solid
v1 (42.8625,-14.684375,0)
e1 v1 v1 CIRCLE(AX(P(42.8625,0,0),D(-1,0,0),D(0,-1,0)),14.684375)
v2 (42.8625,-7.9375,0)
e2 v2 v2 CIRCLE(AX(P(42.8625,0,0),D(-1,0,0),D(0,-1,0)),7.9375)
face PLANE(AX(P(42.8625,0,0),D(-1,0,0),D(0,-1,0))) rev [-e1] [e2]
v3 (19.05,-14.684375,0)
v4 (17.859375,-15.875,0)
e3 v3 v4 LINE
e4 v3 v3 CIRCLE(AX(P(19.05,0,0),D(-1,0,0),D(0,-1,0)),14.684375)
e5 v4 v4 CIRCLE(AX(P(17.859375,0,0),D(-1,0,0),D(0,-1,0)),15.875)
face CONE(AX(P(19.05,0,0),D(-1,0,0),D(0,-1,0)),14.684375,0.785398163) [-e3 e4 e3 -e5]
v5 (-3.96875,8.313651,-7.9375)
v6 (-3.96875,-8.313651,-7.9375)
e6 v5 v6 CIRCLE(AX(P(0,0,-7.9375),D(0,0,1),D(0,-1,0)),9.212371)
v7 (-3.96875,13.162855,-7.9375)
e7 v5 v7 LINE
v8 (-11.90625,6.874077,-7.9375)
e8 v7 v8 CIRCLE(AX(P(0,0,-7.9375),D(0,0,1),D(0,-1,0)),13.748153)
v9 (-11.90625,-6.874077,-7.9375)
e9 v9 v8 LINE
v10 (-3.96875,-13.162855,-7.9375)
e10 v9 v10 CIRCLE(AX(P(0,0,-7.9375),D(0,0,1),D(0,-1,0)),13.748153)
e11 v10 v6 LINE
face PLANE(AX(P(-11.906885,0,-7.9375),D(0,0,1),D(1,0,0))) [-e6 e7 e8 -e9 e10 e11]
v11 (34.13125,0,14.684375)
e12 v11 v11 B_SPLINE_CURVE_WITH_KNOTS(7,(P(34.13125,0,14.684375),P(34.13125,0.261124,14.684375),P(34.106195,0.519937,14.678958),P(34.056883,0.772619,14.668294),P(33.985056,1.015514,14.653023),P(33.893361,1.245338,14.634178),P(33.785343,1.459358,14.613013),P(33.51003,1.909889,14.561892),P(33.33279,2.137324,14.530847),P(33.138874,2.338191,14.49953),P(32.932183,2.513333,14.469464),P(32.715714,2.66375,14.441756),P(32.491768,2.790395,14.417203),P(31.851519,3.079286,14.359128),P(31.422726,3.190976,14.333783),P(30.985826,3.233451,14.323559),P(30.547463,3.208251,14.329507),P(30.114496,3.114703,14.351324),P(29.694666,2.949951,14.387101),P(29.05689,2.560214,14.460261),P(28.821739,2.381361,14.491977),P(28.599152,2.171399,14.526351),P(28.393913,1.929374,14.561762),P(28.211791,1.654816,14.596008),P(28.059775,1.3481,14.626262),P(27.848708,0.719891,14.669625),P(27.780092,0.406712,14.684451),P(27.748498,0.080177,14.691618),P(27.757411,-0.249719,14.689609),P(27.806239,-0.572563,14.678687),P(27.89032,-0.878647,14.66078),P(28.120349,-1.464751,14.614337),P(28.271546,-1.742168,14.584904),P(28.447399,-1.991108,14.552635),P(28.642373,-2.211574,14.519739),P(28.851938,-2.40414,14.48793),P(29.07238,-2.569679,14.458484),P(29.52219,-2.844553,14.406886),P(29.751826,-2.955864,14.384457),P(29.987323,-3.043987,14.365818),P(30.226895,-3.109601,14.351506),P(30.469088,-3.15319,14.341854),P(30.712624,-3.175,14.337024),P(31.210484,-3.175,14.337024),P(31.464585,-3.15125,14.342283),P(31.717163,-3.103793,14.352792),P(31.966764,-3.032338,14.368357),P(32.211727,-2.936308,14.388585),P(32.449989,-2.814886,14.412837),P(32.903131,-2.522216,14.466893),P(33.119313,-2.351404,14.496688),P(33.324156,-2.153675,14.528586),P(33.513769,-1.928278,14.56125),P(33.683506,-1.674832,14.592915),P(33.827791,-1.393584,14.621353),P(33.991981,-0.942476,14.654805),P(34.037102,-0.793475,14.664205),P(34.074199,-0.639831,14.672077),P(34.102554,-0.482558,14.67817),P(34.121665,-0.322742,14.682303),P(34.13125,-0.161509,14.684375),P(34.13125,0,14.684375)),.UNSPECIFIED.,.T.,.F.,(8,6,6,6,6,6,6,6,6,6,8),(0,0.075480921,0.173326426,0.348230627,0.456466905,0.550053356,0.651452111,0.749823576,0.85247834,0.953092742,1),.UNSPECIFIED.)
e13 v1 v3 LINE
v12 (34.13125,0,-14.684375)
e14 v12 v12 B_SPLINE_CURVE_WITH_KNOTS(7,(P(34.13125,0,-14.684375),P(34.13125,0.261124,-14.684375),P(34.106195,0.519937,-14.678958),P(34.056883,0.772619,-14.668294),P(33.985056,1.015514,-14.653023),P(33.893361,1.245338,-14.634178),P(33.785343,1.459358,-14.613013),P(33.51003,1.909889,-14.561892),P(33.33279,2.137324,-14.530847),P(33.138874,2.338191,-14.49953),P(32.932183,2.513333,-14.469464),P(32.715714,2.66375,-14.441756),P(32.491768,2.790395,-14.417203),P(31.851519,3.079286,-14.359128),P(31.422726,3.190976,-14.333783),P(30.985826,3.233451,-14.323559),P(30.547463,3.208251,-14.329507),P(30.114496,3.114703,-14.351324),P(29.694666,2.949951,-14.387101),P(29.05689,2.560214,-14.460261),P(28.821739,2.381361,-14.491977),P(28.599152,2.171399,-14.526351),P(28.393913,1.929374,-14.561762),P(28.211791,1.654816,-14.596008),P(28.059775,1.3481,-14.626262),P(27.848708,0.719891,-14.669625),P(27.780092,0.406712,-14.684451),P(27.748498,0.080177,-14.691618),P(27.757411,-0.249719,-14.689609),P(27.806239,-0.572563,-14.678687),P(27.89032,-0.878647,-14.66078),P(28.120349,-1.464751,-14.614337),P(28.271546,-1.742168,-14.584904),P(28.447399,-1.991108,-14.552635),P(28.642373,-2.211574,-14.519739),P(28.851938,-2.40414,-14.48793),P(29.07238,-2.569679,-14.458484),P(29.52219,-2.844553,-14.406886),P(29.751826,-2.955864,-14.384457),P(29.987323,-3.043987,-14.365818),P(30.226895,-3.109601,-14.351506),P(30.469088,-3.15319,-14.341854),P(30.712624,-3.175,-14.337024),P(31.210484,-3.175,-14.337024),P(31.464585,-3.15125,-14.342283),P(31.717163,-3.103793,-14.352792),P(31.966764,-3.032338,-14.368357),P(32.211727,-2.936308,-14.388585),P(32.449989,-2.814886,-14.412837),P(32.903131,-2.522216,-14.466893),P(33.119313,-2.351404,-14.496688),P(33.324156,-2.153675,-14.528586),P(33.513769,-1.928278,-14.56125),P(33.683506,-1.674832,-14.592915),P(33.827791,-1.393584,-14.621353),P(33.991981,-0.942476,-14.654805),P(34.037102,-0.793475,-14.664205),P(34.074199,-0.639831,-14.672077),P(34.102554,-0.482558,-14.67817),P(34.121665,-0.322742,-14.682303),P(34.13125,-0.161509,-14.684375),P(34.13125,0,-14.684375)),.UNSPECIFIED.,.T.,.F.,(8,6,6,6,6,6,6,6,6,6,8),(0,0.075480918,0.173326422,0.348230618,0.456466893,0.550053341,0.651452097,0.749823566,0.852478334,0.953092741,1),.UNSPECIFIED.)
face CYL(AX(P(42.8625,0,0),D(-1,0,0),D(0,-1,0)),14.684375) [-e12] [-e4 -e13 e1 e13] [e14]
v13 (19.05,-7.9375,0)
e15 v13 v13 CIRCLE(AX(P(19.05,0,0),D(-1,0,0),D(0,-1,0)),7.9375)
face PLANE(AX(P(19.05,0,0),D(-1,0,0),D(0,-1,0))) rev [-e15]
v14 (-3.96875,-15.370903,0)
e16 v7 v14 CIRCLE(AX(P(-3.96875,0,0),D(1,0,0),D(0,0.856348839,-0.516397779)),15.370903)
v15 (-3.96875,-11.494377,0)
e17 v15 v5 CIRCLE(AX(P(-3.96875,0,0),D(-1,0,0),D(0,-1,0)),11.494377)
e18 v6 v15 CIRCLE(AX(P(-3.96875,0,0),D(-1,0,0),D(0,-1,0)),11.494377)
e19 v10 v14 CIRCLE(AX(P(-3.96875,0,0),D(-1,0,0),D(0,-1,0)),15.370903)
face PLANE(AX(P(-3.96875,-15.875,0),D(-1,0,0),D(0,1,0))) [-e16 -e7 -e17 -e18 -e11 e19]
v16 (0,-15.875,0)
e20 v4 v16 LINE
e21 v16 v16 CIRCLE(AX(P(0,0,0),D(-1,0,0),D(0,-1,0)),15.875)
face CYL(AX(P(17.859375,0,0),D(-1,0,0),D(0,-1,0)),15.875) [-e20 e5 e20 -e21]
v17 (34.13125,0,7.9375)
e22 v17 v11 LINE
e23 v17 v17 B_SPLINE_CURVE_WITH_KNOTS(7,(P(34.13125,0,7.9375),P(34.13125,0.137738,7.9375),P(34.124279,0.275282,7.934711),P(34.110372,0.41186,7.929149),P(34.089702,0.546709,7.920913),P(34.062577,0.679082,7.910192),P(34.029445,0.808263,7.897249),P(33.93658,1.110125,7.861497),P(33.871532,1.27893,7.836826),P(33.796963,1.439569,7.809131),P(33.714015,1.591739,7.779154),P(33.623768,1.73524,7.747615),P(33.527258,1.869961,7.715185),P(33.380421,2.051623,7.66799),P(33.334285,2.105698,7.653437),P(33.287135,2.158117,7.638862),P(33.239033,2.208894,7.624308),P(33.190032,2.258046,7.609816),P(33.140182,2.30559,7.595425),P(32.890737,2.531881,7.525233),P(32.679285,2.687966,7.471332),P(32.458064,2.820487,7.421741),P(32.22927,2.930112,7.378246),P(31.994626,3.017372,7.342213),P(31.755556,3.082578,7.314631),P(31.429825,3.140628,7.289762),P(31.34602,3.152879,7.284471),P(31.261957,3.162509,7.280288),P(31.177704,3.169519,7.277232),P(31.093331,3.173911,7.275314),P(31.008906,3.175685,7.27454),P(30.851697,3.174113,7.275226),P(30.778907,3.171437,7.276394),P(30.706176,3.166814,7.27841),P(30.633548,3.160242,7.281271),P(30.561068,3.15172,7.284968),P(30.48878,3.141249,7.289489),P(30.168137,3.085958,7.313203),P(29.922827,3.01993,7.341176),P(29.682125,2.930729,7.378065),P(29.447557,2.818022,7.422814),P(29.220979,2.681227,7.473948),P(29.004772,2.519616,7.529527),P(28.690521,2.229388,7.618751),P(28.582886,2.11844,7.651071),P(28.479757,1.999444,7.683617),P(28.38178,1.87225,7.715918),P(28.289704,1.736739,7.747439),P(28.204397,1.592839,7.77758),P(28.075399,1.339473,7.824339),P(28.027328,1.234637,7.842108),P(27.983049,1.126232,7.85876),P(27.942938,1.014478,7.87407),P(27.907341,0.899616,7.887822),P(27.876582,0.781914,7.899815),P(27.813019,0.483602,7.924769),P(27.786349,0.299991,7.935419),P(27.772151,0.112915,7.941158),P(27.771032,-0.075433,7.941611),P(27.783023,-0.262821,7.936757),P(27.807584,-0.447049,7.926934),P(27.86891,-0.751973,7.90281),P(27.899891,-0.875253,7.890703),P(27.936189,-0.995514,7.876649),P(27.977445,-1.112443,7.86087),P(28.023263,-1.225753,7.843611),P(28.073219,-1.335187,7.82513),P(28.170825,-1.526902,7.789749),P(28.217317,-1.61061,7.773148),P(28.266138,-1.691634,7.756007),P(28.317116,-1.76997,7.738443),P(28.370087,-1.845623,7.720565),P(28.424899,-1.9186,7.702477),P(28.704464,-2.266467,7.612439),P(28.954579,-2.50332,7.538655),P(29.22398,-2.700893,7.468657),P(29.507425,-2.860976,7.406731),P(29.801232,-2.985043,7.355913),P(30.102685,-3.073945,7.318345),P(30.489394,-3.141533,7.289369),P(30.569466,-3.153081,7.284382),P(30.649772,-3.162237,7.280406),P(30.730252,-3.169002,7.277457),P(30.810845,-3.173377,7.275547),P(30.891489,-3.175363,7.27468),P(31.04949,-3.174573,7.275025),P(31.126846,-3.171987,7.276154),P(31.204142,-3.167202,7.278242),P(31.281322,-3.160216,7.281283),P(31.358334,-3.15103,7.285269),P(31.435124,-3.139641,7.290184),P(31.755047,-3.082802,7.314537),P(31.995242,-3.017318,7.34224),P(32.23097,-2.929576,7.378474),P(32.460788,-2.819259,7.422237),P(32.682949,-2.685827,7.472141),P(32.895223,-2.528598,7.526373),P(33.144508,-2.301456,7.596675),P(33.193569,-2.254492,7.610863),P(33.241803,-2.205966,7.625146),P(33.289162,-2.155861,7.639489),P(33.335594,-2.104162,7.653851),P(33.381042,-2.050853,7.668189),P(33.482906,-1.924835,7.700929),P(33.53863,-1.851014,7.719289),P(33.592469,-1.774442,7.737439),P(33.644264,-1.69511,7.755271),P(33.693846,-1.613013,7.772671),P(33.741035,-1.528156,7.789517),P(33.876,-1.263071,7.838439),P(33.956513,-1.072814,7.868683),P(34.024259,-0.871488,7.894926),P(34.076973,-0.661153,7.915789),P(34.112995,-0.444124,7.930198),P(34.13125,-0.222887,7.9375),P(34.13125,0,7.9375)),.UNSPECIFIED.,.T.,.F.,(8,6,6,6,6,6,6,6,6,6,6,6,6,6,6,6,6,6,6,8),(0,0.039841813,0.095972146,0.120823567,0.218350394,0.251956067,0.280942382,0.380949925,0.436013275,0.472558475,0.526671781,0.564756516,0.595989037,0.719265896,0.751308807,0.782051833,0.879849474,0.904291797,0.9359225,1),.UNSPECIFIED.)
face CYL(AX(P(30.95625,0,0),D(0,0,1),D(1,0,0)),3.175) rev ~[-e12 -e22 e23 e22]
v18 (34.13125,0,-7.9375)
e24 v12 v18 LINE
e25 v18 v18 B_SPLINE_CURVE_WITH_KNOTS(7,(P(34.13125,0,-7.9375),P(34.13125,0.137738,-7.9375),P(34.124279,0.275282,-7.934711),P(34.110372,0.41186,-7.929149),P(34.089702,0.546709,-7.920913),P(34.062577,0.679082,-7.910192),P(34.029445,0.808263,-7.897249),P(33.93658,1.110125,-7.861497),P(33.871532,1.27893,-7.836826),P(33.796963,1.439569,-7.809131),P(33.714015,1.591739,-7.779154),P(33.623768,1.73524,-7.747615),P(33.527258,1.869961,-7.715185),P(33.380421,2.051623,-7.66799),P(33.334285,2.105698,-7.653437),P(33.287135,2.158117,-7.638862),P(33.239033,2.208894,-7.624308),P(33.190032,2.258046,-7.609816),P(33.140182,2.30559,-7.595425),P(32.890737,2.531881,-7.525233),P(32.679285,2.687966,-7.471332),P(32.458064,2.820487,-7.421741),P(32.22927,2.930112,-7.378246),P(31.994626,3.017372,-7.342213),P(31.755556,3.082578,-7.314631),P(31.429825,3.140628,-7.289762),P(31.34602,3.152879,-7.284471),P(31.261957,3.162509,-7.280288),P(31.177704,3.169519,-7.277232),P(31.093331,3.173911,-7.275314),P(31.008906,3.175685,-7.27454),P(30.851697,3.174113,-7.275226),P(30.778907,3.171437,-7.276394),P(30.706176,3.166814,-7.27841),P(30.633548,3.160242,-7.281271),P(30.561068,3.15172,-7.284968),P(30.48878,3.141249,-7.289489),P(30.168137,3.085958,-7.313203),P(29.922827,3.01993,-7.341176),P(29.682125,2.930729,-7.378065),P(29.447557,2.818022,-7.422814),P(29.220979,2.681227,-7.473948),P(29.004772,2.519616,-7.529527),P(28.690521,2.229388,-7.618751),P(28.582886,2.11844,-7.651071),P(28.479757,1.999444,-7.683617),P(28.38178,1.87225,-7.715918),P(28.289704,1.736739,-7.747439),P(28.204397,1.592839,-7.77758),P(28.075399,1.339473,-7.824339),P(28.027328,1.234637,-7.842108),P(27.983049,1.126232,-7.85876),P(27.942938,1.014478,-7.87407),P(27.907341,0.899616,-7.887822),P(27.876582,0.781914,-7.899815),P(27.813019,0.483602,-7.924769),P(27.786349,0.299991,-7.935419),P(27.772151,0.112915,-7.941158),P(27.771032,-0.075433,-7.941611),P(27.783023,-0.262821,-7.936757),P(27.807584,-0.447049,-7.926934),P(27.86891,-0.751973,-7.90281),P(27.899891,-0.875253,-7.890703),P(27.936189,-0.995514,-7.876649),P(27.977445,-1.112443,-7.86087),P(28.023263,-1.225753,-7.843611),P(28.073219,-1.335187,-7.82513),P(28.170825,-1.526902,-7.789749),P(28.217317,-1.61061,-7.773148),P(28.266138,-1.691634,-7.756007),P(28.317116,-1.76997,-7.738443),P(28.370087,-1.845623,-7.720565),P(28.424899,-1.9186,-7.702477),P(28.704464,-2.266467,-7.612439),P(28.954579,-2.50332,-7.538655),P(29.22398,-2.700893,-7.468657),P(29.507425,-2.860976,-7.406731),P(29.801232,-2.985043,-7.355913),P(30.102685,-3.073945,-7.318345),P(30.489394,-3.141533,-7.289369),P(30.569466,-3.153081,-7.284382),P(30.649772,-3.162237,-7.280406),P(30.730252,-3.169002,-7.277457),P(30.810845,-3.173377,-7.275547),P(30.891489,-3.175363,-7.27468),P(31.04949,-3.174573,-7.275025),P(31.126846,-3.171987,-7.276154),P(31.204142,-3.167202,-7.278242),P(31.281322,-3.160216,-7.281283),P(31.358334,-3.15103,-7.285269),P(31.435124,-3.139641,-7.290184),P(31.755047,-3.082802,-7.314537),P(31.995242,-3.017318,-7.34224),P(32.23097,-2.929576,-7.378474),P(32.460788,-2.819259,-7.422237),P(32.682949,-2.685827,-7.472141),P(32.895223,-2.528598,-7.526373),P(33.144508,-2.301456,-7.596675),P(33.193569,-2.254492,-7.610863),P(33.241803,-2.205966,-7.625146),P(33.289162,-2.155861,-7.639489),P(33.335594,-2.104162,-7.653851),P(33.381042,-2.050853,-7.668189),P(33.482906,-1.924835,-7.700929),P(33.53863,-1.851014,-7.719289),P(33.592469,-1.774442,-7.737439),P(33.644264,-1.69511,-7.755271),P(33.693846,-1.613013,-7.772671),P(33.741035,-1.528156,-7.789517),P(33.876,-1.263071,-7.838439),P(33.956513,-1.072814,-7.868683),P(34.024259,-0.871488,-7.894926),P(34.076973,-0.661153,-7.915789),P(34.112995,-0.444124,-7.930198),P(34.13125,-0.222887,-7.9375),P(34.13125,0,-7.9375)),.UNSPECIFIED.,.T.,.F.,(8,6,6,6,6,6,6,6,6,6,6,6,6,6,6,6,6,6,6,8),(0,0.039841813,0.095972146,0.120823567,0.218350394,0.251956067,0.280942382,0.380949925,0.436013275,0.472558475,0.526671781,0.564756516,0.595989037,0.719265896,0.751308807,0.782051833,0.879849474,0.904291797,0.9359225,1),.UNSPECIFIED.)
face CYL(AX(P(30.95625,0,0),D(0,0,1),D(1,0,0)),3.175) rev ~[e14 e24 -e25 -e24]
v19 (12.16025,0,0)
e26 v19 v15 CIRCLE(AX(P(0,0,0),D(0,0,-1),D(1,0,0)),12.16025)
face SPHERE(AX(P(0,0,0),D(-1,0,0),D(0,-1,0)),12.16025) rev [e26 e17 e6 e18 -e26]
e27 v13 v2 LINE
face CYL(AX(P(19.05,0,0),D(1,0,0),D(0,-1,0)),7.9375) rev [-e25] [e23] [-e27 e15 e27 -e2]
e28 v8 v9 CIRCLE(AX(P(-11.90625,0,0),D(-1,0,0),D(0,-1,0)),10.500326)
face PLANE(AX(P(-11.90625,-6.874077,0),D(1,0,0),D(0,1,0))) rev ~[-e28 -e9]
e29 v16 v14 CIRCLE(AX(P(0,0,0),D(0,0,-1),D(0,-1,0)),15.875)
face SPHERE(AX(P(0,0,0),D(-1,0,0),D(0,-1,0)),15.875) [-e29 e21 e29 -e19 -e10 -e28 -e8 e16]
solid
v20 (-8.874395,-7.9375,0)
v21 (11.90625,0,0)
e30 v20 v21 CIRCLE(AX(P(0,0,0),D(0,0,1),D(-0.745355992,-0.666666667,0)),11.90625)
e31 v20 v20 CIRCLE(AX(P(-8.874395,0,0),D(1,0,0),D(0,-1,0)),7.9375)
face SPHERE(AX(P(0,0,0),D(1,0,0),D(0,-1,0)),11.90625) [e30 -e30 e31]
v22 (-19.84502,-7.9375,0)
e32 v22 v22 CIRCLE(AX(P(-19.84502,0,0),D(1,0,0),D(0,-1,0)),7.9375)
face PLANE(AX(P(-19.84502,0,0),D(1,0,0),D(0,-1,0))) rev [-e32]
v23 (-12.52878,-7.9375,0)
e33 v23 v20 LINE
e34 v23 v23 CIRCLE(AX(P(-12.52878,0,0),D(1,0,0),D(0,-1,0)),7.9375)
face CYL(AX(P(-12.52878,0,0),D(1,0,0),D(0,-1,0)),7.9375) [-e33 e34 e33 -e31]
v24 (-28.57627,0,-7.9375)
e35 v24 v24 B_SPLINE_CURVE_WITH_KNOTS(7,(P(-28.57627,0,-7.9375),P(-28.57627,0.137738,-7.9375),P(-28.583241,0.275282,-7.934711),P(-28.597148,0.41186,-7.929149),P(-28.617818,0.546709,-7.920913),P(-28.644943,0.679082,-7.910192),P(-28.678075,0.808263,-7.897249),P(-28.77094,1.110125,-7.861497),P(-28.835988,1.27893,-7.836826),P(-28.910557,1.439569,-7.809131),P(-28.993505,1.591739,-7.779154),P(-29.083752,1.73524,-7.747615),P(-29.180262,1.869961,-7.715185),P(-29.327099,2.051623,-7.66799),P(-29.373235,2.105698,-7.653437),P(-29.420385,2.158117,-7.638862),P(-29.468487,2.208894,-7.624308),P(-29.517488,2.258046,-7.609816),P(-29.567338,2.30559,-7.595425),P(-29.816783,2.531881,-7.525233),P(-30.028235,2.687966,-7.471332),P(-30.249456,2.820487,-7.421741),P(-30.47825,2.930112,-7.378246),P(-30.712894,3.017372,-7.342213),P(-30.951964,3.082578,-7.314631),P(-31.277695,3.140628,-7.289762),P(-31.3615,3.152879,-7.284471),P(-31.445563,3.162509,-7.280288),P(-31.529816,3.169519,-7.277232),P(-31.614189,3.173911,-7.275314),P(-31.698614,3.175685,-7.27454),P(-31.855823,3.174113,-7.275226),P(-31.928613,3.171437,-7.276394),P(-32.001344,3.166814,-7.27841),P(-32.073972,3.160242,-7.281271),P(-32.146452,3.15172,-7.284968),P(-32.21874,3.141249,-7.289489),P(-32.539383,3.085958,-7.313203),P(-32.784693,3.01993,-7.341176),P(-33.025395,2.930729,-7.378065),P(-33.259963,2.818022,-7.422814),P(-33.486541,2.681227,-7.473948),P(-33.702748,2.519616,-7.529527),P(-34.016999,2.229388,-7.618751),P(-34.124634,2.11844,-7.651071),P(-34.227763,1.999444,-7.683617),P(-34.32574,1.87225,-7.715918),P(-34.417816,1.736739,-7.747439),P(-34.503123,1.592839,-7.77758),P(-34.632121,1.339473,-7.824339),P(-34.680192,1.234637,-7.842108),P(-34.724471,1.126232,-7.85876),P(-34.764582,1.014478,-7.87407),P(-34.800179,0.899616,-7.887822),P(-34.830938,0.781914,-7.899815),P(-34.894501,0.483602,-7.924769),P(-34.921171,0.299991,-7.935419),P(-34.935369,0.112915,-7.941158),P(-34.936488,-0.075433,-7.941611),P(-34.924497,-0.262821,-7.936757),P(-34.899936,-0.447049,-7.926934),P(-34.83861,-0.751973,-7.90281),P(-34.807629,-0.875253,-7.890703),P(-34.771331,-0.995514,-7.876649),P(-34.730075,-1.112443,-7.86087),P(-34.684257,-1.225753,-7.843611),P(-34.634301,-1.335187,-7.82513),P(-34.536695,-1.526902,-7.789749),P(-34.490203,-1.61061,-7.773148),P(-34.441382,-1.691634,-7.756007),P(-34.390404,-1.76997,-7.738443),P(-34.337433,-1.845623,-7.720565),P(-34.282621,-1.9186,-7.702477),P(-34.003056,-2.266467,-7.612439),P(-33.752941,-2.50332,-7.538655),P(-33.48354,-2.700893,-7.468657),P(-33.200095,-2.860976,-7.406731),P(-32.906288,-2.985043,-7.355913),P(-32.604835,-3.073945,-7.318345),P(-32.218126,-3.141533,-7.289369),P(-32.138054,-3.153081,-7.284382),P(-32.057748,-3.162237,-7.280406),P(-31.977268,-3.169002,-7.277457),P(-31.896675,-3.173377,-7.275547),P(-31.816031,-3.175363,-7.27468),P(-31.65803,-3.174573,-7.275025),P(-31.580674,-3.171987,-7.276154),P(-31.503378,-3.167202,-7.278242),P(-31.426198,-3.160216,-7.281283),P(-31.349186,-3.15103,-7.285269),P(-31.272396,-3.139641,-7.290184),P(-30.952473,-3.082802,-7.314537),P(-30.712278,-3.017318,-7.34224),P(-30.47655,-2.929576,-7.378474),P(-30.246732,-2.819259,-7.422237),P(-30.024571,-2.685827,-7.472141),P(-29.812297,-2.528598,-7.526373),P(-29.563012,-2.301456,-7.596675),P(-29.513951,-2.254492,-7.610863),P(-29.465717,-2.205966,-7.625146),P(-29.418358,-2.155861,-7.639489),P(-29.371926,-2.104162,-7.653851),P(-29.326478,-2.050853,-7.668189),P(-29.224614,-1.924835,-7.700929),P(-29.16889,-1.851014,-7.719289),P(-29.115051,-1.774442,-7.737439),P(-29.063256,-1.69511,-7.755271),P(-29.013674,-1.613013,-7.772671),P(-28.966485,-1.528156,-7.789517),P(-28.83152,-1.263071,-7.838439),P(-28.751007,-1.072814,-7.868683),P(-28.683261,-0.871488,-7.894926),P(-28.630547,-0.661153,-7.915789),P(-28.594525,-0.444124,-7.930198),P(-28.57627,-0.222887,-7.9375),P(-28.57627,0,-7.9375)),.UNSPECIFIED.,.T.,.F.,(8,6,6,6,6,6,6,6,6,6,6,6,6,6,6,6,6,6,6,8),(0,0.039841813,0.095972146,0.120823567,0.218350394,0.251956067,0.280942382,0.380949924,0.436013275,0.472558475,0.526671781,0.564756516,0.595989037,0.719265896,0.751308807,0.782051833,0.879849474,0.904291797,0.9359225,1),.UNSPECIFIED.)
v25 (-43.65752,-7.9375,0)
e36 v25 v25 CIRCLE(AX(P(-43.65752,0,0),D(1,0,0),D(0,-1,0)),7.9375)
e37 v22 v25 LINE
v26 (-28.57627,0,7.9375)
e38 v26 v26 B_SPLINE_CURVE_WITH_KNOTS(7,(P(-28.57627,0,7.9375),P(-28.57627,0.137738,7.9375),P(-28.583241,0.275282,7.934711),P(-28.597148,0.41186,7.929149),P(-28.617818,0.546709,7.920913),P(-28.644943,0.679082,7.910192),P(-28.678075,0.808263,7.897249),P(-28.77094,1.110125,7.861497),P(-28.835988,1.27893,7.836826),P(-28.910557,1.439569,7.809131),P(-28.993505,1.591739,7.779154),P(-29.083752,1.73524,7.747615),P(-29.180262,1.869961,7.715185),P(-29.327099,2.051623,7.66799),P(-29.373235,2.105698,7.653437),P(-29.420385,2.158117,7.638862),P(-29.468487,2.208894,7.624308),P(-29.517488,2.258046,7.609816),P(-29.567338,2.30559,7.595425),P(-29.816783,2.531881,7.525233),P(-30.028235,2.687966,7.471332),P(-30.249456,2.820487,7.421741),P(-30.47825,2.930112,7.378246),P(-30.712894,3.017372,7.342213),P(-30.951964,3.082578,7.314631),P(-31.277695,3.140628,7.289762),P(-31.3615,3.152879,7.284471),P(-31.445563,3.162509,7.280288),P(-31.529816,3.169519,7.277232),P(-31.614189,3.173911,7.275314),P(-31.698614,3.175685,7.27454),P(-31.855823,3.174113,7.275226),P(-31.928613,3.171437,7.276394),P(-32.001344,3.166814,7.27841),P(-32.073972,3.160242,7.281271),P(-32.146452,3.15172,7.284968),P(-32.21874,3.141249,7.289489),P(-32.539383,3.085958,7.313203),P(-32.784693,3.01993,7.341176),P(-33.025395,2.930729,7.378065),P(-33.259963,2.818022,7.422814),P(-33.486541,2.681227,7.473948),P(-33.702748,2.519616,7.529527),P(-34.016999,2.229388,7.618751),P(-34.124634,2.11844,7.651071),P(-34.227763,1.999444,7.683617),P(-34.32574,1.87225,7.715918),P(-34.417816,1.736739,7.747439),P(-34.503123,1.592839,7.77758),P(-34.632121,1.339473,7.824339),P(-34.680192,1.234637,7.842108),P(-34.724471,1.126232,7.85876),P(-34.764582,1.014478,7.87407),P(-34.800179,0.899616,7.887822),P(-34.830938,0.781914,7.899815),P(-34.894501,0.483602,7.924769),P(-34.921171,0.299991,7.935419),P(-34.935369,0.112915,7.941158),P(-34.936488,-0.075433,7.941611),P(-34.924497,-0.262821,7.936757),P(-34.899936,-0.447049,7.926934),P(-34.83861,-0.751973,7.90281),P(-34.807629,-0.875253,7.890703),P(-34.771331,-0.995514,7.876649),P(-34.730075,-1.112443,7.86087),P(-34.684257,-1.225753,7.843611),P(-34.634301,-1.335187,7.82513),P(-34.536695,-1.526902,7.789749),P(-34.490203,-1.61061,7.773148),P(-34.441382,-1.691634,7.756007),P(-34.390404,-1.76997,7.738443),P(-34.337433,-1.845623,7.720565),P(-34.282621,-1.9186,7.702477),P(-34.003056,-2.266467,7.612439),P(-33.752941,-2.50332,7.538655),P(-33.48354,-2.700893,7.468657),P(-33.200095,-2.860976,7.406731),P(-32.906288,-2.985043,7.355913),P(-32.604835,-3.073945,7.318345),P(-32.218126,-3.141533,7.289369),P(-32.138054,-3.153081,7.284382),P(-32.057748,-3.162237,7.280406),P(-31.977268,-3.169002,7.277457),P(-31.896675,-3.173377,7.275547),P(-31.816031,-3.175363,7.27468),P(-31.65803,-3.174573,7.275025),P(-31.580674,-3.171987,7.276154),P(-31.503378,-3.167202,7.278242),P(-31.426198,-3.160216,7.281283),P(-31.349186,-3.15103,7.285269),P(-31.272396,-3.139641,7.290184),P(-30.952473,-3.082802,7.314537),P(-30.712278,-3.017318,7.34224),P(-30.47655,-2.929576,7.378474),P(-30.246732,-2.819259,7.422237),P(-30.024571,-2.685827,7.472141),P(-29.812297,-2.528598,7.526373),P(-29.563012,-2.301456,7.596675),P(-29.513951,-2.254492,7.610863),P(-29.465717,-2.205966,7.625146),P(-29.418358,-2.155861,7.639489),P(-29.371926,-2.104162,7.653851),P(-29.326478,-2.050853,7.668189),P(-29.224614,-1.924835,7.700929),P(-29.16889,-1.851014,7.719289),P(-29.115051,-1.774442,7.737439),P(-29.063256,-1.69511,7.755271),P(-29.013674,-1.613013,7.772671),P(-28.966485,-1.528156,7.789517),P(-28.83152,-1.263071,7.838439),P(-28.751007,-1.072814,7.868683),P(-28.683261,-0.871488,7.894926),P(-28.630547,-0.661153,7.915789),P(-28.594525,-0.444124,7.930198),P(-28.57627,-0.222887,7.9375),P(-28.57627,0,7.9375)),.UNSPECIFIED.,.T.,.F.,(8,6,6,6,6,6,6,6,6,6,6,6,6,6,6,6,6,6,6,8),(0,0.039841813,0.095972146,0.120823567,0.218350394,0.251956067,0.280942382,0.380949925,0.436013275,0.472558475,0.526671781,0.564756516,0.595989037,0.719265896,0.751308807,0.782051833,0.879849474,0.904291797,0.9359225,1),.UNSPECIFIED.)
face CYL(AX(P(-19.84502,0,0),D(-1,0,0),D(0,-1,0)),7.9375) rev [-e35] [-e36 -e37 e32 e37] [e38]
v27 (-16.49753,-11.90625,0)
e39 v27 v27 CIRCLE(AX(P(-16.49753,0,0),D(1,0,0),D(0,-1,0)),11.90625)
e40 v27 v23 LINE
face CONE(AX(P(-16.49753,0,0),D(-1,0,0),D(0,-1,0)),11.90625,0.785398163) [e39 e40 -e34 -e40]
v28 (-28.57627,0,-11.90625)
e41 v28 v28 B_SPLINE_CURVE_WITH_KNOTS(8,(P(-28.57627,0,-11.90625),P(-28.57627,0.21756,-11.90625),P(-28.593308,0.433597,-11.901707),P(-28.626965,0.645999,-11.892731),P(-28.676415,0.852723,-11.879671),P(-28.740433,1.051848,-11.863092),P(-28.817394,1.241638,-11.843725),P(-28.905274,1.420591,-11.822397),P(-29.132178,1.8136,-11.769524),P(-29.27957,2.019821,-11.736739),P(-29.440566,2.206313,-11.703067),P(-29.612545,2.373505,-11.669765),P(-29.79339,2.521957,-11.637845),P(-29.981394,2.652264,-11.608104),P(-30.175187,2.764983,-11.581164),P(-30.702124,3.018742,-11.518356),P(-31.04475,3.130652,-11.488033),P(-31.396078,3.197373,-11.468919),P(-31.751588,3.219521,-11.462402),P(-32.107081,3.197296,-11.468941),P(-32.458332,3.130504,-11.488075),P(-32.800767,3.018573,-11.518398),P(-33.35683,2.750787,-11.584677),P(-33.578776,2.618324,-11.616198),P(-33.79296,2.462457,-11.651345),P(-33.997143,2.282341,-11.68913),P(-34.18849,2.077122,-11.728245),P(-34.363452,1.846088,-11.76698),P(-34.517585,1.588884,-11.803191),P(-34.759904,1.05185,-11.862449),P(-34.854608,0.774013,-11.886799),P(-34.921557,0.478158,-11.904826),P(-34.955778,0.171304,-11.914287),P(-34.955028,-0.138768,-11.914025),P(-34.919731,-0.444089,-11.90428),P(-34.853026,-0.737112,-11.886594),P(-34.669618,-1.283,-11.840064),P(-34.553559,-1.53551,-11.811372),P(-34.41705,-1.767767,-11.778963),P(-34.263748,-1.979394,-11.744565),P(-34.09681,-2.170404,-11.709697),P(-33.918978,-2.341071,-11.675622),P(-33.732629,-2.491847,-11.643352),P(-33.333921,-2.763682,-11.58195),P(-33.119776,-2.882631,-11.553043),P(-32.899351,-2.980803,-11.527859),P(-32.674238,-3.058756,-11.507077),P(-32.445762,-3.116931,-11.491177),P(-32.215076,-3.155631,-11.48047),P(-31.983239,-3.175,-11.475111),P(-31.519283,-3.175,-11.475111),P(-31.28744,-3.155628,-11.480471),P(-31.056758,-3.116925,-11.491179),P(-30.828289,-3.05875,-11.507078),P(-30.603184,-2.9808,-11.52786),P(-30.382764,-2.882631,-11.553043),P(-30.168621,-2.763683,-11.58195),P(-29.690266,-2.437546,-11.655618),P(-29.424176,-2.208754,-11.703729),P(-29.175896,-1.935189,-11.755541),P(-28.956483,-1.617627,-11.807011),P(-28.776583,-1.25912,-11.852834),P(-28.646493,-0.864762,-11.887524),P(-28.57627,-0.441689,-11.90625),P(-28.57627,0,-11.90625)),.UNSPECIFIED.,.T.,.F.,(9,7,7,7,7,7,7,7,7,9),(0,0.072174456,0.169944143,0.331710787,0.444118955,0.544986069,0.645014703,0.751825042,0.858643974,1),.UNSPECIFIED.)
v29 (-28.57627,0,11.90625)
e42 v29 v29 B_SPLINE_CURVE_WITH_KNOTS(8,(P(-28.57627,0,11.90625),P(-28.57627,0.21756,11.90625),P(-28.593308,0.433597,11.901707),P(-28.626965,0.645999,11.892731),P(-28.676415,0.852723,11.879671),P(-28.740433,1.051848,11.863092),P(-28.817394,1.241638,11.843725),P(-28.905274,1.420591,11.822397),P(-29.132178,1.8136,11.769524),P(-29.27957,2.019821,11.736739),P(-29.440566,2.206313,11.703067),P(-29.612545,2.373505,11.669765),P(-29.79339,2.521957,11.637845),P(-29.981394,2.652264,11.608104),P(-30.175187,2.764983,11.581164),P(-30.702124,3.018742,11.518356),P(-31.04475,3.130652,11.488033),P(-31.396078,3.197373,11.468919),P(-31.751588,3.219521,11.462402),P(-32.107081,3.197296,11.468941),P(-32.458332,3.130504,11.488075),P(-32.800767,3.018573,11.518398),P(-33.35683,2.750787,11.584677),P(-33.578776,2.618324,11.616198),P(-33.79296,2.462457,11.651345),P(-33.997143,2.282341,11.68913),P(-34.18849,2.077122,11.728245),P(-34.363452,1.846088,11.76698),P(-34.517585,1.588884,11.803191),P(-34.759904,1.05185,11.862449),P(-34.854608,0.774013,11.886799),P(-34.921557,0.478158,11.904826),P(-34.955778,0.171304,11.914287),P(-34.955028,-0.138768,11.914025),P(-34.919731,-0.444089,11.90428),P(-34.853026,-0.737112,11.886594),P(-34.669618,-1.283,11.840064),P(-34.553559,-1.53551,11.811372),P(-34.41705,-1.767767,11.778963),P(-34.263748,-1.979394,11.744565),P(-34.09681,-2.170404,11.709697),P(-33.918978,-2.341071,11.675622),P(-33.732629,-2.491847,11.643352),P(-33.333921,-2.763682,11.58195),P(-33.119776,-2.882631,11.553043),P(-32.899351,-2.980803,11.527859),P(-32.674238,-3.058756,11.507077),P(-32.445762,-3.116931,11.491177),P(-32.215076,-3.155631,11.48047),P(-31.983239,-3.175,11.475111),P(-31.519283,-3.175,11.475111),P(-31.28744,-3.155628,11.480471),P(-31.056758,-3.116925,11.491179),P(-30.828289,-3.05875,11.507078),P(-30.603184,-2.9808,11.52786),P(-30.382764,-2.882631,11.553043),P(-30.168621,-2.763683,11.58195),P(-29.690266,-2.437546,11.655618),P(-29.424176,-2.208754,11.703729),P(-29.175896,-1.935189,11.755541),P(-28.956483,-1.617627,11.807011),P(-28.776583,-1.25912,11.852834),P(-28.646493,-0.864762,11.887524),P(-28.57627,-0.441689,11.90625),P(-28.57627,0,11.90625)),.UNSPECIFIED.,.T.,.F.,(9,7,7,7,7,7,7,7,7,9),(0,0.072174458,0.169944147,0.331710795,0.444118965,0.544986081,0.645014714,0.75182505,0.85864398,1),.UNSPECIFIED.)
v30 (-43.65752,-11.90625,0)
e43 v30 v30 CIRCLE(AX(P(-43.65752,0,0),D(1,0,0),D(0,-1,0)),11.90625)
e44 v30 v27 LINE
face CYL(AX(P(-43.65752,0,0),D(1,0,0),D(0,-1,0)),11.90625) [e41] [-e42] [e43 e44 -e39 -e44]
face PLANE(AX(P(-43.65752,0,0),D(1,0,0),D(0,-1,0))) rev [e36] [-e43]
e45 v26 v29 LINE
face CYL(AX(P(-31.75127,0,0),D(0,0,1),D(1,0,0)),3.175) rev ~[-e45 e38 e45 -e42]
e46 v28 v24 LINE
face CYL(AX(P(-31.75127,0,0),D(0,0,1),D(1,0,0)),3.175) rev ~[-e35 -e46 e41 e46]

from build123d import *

# Parameters (mm, degrees)
SKETCH3_W               = 15.87627
SKETCH3_H               = 31.75
CUT_EXTRUDE1_DEPTH      = 16.875
CUT_EXTRUDE1_DEPTH_BACK = 7.9375
SKETCH5_W               = 7.93877
SKETCH5_H               = 13.748153286
CUT_EXTRUDE2_DEPTH      = 16.875
SKETCH8_R               = 3.175
CUT_EXTRUDE3_DEPTH      = 16.875
CUT_EXTRUDE3_DEPTH_BACK = 16.875


with BuildPart() as part:
    # Sketch1 → Revolve1 (revolve)
    with BuildSketch(Plane.XY):
        with BuildLine():
            Line((-12.528779942, -7.9375), (-8.874394786, -7.9375))
            ThreePointArc((-8.874394786, -7.9375), (4.248413006, -11.122489649), (11.90625, 0))
            Line((11.90625, 0), (-19.84502, 0))
            Line((-19.84502, 0), (-19.84502, -7.9375))
            Line((-19.84502, -7.9375), (-43.65752, -7.9375))
            Line((-43.65752, -7.9375), (-43.65752, -11.90625))
            Line((-43.65752, -11.90625), (-16.497529942, -11.90625))
            Line((-16.497529942, -11.90625), (-12.528779942, -7.9375))
        make_face()
    revolve(axis=Axis((-19.84502, 0, 0), (1, 0, 0)))


with BuildPart() as body_2:
    # Sketch2 → Revolve2 (revolve)
    with BuildSketch(Plane.XY):
        with BuildLine():
            Line((19.05, 0), (19.05, -7.9375))
            Line((19.05, -7.9375), (42.8625, -7.9375))
            Line((42.8625, -7.9375), (42.8625, -14.684375))
            Line((42.8625, -14.684375), (19.05, -14.684375))
            Line((19.05, -14.684375), (17.859375, -15.875))
            Line((17.859375, -15.875), (0, -15.875))
            ThreePointArc((0, -15.875), (-11.225320151, -11.225320151), (-15.875, 0))
            Line((-15.875, 0), (19.05, 0))
        make_face()
    revolve(axis=Axis((19.05, 0, 0), (-1, 0, 0)))

    # Sketch3 → Cut-Extrude1 (cut, two sides)
    with BuildSketch(Plane.XY) as cut_extrude1_sk:
        with Locations((-11.906885, 0)):
            Rectangle(SKETCH3_W, SKETCH3_H)
    extrude(amount=CUT_EXTRUDE1_DEPTH, mode=Mode.SUBTRACT)
    extrude(cut_extrude1_sk.sketch, amount=-CUT_EXTRUDE1_DEPTH_BACK, mode=Mode.SUBTRACT)

    # Sketch5 → Cut-Extrude2 (cut, through all)
    with BuildSketch(Plane.XY):
        with Locations((-15.875635, 0)):
            Rectangle(SKETCH5_W, SKETCH5_H)
    extrude(amount=-CUT_EXTRUDE2_DEPTH, mode=Mode.SUBTRACT)

    # Sketch6 → Cut-Revolve2 (revolve, cut)
    with BuildSketch(Plane.XY):
        with BuildLine():
            Line((-12.16025, 0), (12.16025, 0))
            ThreePointArc((12.16025, 0), (0, -12.16025), (-12.16025, 0))
        make_face()
    revolve(axis=Axis((-12.16025, 0, 0), (1, 0, 0)), mode=Mode.SUBTRACT)


with BuildPart() as cut_extrude3_tool:
    # Sketch8 → Cut-Extrude3 (new body, two sides)
    with BuildSketch(Plane.XY) as cut_extrude3_sk:
        with Locations((-31.75127, 0)):
            Circle(SKETCH8_R)
        with Locations((30.95625, 0)):
            Circle(SKETCH8_R)
    extrude(amount=CUT_EXTRUDE3_DEPTH)
    extrude(cut_extrude3_sk.sketch, amount=-CUT_EXTRUDE3_DEPTH_BACK)


with BuildPart() as part_1:
    add(part.part)

    # Cut-Extrude3: cut by cut_extrude3_tool
    add(cut_extrude3_tool.part, mode=Mode.SUBTRACT)


with BuildPart() as body_2_1:
    add(body_2.part)

    # Cut-Extrude3: cut by cut_extrude3_tool
    add(cut_extrude3_tool.part, mode=Mode.SUBTRACT)


solid = Compound([part_1.part, body_2_1.part])
